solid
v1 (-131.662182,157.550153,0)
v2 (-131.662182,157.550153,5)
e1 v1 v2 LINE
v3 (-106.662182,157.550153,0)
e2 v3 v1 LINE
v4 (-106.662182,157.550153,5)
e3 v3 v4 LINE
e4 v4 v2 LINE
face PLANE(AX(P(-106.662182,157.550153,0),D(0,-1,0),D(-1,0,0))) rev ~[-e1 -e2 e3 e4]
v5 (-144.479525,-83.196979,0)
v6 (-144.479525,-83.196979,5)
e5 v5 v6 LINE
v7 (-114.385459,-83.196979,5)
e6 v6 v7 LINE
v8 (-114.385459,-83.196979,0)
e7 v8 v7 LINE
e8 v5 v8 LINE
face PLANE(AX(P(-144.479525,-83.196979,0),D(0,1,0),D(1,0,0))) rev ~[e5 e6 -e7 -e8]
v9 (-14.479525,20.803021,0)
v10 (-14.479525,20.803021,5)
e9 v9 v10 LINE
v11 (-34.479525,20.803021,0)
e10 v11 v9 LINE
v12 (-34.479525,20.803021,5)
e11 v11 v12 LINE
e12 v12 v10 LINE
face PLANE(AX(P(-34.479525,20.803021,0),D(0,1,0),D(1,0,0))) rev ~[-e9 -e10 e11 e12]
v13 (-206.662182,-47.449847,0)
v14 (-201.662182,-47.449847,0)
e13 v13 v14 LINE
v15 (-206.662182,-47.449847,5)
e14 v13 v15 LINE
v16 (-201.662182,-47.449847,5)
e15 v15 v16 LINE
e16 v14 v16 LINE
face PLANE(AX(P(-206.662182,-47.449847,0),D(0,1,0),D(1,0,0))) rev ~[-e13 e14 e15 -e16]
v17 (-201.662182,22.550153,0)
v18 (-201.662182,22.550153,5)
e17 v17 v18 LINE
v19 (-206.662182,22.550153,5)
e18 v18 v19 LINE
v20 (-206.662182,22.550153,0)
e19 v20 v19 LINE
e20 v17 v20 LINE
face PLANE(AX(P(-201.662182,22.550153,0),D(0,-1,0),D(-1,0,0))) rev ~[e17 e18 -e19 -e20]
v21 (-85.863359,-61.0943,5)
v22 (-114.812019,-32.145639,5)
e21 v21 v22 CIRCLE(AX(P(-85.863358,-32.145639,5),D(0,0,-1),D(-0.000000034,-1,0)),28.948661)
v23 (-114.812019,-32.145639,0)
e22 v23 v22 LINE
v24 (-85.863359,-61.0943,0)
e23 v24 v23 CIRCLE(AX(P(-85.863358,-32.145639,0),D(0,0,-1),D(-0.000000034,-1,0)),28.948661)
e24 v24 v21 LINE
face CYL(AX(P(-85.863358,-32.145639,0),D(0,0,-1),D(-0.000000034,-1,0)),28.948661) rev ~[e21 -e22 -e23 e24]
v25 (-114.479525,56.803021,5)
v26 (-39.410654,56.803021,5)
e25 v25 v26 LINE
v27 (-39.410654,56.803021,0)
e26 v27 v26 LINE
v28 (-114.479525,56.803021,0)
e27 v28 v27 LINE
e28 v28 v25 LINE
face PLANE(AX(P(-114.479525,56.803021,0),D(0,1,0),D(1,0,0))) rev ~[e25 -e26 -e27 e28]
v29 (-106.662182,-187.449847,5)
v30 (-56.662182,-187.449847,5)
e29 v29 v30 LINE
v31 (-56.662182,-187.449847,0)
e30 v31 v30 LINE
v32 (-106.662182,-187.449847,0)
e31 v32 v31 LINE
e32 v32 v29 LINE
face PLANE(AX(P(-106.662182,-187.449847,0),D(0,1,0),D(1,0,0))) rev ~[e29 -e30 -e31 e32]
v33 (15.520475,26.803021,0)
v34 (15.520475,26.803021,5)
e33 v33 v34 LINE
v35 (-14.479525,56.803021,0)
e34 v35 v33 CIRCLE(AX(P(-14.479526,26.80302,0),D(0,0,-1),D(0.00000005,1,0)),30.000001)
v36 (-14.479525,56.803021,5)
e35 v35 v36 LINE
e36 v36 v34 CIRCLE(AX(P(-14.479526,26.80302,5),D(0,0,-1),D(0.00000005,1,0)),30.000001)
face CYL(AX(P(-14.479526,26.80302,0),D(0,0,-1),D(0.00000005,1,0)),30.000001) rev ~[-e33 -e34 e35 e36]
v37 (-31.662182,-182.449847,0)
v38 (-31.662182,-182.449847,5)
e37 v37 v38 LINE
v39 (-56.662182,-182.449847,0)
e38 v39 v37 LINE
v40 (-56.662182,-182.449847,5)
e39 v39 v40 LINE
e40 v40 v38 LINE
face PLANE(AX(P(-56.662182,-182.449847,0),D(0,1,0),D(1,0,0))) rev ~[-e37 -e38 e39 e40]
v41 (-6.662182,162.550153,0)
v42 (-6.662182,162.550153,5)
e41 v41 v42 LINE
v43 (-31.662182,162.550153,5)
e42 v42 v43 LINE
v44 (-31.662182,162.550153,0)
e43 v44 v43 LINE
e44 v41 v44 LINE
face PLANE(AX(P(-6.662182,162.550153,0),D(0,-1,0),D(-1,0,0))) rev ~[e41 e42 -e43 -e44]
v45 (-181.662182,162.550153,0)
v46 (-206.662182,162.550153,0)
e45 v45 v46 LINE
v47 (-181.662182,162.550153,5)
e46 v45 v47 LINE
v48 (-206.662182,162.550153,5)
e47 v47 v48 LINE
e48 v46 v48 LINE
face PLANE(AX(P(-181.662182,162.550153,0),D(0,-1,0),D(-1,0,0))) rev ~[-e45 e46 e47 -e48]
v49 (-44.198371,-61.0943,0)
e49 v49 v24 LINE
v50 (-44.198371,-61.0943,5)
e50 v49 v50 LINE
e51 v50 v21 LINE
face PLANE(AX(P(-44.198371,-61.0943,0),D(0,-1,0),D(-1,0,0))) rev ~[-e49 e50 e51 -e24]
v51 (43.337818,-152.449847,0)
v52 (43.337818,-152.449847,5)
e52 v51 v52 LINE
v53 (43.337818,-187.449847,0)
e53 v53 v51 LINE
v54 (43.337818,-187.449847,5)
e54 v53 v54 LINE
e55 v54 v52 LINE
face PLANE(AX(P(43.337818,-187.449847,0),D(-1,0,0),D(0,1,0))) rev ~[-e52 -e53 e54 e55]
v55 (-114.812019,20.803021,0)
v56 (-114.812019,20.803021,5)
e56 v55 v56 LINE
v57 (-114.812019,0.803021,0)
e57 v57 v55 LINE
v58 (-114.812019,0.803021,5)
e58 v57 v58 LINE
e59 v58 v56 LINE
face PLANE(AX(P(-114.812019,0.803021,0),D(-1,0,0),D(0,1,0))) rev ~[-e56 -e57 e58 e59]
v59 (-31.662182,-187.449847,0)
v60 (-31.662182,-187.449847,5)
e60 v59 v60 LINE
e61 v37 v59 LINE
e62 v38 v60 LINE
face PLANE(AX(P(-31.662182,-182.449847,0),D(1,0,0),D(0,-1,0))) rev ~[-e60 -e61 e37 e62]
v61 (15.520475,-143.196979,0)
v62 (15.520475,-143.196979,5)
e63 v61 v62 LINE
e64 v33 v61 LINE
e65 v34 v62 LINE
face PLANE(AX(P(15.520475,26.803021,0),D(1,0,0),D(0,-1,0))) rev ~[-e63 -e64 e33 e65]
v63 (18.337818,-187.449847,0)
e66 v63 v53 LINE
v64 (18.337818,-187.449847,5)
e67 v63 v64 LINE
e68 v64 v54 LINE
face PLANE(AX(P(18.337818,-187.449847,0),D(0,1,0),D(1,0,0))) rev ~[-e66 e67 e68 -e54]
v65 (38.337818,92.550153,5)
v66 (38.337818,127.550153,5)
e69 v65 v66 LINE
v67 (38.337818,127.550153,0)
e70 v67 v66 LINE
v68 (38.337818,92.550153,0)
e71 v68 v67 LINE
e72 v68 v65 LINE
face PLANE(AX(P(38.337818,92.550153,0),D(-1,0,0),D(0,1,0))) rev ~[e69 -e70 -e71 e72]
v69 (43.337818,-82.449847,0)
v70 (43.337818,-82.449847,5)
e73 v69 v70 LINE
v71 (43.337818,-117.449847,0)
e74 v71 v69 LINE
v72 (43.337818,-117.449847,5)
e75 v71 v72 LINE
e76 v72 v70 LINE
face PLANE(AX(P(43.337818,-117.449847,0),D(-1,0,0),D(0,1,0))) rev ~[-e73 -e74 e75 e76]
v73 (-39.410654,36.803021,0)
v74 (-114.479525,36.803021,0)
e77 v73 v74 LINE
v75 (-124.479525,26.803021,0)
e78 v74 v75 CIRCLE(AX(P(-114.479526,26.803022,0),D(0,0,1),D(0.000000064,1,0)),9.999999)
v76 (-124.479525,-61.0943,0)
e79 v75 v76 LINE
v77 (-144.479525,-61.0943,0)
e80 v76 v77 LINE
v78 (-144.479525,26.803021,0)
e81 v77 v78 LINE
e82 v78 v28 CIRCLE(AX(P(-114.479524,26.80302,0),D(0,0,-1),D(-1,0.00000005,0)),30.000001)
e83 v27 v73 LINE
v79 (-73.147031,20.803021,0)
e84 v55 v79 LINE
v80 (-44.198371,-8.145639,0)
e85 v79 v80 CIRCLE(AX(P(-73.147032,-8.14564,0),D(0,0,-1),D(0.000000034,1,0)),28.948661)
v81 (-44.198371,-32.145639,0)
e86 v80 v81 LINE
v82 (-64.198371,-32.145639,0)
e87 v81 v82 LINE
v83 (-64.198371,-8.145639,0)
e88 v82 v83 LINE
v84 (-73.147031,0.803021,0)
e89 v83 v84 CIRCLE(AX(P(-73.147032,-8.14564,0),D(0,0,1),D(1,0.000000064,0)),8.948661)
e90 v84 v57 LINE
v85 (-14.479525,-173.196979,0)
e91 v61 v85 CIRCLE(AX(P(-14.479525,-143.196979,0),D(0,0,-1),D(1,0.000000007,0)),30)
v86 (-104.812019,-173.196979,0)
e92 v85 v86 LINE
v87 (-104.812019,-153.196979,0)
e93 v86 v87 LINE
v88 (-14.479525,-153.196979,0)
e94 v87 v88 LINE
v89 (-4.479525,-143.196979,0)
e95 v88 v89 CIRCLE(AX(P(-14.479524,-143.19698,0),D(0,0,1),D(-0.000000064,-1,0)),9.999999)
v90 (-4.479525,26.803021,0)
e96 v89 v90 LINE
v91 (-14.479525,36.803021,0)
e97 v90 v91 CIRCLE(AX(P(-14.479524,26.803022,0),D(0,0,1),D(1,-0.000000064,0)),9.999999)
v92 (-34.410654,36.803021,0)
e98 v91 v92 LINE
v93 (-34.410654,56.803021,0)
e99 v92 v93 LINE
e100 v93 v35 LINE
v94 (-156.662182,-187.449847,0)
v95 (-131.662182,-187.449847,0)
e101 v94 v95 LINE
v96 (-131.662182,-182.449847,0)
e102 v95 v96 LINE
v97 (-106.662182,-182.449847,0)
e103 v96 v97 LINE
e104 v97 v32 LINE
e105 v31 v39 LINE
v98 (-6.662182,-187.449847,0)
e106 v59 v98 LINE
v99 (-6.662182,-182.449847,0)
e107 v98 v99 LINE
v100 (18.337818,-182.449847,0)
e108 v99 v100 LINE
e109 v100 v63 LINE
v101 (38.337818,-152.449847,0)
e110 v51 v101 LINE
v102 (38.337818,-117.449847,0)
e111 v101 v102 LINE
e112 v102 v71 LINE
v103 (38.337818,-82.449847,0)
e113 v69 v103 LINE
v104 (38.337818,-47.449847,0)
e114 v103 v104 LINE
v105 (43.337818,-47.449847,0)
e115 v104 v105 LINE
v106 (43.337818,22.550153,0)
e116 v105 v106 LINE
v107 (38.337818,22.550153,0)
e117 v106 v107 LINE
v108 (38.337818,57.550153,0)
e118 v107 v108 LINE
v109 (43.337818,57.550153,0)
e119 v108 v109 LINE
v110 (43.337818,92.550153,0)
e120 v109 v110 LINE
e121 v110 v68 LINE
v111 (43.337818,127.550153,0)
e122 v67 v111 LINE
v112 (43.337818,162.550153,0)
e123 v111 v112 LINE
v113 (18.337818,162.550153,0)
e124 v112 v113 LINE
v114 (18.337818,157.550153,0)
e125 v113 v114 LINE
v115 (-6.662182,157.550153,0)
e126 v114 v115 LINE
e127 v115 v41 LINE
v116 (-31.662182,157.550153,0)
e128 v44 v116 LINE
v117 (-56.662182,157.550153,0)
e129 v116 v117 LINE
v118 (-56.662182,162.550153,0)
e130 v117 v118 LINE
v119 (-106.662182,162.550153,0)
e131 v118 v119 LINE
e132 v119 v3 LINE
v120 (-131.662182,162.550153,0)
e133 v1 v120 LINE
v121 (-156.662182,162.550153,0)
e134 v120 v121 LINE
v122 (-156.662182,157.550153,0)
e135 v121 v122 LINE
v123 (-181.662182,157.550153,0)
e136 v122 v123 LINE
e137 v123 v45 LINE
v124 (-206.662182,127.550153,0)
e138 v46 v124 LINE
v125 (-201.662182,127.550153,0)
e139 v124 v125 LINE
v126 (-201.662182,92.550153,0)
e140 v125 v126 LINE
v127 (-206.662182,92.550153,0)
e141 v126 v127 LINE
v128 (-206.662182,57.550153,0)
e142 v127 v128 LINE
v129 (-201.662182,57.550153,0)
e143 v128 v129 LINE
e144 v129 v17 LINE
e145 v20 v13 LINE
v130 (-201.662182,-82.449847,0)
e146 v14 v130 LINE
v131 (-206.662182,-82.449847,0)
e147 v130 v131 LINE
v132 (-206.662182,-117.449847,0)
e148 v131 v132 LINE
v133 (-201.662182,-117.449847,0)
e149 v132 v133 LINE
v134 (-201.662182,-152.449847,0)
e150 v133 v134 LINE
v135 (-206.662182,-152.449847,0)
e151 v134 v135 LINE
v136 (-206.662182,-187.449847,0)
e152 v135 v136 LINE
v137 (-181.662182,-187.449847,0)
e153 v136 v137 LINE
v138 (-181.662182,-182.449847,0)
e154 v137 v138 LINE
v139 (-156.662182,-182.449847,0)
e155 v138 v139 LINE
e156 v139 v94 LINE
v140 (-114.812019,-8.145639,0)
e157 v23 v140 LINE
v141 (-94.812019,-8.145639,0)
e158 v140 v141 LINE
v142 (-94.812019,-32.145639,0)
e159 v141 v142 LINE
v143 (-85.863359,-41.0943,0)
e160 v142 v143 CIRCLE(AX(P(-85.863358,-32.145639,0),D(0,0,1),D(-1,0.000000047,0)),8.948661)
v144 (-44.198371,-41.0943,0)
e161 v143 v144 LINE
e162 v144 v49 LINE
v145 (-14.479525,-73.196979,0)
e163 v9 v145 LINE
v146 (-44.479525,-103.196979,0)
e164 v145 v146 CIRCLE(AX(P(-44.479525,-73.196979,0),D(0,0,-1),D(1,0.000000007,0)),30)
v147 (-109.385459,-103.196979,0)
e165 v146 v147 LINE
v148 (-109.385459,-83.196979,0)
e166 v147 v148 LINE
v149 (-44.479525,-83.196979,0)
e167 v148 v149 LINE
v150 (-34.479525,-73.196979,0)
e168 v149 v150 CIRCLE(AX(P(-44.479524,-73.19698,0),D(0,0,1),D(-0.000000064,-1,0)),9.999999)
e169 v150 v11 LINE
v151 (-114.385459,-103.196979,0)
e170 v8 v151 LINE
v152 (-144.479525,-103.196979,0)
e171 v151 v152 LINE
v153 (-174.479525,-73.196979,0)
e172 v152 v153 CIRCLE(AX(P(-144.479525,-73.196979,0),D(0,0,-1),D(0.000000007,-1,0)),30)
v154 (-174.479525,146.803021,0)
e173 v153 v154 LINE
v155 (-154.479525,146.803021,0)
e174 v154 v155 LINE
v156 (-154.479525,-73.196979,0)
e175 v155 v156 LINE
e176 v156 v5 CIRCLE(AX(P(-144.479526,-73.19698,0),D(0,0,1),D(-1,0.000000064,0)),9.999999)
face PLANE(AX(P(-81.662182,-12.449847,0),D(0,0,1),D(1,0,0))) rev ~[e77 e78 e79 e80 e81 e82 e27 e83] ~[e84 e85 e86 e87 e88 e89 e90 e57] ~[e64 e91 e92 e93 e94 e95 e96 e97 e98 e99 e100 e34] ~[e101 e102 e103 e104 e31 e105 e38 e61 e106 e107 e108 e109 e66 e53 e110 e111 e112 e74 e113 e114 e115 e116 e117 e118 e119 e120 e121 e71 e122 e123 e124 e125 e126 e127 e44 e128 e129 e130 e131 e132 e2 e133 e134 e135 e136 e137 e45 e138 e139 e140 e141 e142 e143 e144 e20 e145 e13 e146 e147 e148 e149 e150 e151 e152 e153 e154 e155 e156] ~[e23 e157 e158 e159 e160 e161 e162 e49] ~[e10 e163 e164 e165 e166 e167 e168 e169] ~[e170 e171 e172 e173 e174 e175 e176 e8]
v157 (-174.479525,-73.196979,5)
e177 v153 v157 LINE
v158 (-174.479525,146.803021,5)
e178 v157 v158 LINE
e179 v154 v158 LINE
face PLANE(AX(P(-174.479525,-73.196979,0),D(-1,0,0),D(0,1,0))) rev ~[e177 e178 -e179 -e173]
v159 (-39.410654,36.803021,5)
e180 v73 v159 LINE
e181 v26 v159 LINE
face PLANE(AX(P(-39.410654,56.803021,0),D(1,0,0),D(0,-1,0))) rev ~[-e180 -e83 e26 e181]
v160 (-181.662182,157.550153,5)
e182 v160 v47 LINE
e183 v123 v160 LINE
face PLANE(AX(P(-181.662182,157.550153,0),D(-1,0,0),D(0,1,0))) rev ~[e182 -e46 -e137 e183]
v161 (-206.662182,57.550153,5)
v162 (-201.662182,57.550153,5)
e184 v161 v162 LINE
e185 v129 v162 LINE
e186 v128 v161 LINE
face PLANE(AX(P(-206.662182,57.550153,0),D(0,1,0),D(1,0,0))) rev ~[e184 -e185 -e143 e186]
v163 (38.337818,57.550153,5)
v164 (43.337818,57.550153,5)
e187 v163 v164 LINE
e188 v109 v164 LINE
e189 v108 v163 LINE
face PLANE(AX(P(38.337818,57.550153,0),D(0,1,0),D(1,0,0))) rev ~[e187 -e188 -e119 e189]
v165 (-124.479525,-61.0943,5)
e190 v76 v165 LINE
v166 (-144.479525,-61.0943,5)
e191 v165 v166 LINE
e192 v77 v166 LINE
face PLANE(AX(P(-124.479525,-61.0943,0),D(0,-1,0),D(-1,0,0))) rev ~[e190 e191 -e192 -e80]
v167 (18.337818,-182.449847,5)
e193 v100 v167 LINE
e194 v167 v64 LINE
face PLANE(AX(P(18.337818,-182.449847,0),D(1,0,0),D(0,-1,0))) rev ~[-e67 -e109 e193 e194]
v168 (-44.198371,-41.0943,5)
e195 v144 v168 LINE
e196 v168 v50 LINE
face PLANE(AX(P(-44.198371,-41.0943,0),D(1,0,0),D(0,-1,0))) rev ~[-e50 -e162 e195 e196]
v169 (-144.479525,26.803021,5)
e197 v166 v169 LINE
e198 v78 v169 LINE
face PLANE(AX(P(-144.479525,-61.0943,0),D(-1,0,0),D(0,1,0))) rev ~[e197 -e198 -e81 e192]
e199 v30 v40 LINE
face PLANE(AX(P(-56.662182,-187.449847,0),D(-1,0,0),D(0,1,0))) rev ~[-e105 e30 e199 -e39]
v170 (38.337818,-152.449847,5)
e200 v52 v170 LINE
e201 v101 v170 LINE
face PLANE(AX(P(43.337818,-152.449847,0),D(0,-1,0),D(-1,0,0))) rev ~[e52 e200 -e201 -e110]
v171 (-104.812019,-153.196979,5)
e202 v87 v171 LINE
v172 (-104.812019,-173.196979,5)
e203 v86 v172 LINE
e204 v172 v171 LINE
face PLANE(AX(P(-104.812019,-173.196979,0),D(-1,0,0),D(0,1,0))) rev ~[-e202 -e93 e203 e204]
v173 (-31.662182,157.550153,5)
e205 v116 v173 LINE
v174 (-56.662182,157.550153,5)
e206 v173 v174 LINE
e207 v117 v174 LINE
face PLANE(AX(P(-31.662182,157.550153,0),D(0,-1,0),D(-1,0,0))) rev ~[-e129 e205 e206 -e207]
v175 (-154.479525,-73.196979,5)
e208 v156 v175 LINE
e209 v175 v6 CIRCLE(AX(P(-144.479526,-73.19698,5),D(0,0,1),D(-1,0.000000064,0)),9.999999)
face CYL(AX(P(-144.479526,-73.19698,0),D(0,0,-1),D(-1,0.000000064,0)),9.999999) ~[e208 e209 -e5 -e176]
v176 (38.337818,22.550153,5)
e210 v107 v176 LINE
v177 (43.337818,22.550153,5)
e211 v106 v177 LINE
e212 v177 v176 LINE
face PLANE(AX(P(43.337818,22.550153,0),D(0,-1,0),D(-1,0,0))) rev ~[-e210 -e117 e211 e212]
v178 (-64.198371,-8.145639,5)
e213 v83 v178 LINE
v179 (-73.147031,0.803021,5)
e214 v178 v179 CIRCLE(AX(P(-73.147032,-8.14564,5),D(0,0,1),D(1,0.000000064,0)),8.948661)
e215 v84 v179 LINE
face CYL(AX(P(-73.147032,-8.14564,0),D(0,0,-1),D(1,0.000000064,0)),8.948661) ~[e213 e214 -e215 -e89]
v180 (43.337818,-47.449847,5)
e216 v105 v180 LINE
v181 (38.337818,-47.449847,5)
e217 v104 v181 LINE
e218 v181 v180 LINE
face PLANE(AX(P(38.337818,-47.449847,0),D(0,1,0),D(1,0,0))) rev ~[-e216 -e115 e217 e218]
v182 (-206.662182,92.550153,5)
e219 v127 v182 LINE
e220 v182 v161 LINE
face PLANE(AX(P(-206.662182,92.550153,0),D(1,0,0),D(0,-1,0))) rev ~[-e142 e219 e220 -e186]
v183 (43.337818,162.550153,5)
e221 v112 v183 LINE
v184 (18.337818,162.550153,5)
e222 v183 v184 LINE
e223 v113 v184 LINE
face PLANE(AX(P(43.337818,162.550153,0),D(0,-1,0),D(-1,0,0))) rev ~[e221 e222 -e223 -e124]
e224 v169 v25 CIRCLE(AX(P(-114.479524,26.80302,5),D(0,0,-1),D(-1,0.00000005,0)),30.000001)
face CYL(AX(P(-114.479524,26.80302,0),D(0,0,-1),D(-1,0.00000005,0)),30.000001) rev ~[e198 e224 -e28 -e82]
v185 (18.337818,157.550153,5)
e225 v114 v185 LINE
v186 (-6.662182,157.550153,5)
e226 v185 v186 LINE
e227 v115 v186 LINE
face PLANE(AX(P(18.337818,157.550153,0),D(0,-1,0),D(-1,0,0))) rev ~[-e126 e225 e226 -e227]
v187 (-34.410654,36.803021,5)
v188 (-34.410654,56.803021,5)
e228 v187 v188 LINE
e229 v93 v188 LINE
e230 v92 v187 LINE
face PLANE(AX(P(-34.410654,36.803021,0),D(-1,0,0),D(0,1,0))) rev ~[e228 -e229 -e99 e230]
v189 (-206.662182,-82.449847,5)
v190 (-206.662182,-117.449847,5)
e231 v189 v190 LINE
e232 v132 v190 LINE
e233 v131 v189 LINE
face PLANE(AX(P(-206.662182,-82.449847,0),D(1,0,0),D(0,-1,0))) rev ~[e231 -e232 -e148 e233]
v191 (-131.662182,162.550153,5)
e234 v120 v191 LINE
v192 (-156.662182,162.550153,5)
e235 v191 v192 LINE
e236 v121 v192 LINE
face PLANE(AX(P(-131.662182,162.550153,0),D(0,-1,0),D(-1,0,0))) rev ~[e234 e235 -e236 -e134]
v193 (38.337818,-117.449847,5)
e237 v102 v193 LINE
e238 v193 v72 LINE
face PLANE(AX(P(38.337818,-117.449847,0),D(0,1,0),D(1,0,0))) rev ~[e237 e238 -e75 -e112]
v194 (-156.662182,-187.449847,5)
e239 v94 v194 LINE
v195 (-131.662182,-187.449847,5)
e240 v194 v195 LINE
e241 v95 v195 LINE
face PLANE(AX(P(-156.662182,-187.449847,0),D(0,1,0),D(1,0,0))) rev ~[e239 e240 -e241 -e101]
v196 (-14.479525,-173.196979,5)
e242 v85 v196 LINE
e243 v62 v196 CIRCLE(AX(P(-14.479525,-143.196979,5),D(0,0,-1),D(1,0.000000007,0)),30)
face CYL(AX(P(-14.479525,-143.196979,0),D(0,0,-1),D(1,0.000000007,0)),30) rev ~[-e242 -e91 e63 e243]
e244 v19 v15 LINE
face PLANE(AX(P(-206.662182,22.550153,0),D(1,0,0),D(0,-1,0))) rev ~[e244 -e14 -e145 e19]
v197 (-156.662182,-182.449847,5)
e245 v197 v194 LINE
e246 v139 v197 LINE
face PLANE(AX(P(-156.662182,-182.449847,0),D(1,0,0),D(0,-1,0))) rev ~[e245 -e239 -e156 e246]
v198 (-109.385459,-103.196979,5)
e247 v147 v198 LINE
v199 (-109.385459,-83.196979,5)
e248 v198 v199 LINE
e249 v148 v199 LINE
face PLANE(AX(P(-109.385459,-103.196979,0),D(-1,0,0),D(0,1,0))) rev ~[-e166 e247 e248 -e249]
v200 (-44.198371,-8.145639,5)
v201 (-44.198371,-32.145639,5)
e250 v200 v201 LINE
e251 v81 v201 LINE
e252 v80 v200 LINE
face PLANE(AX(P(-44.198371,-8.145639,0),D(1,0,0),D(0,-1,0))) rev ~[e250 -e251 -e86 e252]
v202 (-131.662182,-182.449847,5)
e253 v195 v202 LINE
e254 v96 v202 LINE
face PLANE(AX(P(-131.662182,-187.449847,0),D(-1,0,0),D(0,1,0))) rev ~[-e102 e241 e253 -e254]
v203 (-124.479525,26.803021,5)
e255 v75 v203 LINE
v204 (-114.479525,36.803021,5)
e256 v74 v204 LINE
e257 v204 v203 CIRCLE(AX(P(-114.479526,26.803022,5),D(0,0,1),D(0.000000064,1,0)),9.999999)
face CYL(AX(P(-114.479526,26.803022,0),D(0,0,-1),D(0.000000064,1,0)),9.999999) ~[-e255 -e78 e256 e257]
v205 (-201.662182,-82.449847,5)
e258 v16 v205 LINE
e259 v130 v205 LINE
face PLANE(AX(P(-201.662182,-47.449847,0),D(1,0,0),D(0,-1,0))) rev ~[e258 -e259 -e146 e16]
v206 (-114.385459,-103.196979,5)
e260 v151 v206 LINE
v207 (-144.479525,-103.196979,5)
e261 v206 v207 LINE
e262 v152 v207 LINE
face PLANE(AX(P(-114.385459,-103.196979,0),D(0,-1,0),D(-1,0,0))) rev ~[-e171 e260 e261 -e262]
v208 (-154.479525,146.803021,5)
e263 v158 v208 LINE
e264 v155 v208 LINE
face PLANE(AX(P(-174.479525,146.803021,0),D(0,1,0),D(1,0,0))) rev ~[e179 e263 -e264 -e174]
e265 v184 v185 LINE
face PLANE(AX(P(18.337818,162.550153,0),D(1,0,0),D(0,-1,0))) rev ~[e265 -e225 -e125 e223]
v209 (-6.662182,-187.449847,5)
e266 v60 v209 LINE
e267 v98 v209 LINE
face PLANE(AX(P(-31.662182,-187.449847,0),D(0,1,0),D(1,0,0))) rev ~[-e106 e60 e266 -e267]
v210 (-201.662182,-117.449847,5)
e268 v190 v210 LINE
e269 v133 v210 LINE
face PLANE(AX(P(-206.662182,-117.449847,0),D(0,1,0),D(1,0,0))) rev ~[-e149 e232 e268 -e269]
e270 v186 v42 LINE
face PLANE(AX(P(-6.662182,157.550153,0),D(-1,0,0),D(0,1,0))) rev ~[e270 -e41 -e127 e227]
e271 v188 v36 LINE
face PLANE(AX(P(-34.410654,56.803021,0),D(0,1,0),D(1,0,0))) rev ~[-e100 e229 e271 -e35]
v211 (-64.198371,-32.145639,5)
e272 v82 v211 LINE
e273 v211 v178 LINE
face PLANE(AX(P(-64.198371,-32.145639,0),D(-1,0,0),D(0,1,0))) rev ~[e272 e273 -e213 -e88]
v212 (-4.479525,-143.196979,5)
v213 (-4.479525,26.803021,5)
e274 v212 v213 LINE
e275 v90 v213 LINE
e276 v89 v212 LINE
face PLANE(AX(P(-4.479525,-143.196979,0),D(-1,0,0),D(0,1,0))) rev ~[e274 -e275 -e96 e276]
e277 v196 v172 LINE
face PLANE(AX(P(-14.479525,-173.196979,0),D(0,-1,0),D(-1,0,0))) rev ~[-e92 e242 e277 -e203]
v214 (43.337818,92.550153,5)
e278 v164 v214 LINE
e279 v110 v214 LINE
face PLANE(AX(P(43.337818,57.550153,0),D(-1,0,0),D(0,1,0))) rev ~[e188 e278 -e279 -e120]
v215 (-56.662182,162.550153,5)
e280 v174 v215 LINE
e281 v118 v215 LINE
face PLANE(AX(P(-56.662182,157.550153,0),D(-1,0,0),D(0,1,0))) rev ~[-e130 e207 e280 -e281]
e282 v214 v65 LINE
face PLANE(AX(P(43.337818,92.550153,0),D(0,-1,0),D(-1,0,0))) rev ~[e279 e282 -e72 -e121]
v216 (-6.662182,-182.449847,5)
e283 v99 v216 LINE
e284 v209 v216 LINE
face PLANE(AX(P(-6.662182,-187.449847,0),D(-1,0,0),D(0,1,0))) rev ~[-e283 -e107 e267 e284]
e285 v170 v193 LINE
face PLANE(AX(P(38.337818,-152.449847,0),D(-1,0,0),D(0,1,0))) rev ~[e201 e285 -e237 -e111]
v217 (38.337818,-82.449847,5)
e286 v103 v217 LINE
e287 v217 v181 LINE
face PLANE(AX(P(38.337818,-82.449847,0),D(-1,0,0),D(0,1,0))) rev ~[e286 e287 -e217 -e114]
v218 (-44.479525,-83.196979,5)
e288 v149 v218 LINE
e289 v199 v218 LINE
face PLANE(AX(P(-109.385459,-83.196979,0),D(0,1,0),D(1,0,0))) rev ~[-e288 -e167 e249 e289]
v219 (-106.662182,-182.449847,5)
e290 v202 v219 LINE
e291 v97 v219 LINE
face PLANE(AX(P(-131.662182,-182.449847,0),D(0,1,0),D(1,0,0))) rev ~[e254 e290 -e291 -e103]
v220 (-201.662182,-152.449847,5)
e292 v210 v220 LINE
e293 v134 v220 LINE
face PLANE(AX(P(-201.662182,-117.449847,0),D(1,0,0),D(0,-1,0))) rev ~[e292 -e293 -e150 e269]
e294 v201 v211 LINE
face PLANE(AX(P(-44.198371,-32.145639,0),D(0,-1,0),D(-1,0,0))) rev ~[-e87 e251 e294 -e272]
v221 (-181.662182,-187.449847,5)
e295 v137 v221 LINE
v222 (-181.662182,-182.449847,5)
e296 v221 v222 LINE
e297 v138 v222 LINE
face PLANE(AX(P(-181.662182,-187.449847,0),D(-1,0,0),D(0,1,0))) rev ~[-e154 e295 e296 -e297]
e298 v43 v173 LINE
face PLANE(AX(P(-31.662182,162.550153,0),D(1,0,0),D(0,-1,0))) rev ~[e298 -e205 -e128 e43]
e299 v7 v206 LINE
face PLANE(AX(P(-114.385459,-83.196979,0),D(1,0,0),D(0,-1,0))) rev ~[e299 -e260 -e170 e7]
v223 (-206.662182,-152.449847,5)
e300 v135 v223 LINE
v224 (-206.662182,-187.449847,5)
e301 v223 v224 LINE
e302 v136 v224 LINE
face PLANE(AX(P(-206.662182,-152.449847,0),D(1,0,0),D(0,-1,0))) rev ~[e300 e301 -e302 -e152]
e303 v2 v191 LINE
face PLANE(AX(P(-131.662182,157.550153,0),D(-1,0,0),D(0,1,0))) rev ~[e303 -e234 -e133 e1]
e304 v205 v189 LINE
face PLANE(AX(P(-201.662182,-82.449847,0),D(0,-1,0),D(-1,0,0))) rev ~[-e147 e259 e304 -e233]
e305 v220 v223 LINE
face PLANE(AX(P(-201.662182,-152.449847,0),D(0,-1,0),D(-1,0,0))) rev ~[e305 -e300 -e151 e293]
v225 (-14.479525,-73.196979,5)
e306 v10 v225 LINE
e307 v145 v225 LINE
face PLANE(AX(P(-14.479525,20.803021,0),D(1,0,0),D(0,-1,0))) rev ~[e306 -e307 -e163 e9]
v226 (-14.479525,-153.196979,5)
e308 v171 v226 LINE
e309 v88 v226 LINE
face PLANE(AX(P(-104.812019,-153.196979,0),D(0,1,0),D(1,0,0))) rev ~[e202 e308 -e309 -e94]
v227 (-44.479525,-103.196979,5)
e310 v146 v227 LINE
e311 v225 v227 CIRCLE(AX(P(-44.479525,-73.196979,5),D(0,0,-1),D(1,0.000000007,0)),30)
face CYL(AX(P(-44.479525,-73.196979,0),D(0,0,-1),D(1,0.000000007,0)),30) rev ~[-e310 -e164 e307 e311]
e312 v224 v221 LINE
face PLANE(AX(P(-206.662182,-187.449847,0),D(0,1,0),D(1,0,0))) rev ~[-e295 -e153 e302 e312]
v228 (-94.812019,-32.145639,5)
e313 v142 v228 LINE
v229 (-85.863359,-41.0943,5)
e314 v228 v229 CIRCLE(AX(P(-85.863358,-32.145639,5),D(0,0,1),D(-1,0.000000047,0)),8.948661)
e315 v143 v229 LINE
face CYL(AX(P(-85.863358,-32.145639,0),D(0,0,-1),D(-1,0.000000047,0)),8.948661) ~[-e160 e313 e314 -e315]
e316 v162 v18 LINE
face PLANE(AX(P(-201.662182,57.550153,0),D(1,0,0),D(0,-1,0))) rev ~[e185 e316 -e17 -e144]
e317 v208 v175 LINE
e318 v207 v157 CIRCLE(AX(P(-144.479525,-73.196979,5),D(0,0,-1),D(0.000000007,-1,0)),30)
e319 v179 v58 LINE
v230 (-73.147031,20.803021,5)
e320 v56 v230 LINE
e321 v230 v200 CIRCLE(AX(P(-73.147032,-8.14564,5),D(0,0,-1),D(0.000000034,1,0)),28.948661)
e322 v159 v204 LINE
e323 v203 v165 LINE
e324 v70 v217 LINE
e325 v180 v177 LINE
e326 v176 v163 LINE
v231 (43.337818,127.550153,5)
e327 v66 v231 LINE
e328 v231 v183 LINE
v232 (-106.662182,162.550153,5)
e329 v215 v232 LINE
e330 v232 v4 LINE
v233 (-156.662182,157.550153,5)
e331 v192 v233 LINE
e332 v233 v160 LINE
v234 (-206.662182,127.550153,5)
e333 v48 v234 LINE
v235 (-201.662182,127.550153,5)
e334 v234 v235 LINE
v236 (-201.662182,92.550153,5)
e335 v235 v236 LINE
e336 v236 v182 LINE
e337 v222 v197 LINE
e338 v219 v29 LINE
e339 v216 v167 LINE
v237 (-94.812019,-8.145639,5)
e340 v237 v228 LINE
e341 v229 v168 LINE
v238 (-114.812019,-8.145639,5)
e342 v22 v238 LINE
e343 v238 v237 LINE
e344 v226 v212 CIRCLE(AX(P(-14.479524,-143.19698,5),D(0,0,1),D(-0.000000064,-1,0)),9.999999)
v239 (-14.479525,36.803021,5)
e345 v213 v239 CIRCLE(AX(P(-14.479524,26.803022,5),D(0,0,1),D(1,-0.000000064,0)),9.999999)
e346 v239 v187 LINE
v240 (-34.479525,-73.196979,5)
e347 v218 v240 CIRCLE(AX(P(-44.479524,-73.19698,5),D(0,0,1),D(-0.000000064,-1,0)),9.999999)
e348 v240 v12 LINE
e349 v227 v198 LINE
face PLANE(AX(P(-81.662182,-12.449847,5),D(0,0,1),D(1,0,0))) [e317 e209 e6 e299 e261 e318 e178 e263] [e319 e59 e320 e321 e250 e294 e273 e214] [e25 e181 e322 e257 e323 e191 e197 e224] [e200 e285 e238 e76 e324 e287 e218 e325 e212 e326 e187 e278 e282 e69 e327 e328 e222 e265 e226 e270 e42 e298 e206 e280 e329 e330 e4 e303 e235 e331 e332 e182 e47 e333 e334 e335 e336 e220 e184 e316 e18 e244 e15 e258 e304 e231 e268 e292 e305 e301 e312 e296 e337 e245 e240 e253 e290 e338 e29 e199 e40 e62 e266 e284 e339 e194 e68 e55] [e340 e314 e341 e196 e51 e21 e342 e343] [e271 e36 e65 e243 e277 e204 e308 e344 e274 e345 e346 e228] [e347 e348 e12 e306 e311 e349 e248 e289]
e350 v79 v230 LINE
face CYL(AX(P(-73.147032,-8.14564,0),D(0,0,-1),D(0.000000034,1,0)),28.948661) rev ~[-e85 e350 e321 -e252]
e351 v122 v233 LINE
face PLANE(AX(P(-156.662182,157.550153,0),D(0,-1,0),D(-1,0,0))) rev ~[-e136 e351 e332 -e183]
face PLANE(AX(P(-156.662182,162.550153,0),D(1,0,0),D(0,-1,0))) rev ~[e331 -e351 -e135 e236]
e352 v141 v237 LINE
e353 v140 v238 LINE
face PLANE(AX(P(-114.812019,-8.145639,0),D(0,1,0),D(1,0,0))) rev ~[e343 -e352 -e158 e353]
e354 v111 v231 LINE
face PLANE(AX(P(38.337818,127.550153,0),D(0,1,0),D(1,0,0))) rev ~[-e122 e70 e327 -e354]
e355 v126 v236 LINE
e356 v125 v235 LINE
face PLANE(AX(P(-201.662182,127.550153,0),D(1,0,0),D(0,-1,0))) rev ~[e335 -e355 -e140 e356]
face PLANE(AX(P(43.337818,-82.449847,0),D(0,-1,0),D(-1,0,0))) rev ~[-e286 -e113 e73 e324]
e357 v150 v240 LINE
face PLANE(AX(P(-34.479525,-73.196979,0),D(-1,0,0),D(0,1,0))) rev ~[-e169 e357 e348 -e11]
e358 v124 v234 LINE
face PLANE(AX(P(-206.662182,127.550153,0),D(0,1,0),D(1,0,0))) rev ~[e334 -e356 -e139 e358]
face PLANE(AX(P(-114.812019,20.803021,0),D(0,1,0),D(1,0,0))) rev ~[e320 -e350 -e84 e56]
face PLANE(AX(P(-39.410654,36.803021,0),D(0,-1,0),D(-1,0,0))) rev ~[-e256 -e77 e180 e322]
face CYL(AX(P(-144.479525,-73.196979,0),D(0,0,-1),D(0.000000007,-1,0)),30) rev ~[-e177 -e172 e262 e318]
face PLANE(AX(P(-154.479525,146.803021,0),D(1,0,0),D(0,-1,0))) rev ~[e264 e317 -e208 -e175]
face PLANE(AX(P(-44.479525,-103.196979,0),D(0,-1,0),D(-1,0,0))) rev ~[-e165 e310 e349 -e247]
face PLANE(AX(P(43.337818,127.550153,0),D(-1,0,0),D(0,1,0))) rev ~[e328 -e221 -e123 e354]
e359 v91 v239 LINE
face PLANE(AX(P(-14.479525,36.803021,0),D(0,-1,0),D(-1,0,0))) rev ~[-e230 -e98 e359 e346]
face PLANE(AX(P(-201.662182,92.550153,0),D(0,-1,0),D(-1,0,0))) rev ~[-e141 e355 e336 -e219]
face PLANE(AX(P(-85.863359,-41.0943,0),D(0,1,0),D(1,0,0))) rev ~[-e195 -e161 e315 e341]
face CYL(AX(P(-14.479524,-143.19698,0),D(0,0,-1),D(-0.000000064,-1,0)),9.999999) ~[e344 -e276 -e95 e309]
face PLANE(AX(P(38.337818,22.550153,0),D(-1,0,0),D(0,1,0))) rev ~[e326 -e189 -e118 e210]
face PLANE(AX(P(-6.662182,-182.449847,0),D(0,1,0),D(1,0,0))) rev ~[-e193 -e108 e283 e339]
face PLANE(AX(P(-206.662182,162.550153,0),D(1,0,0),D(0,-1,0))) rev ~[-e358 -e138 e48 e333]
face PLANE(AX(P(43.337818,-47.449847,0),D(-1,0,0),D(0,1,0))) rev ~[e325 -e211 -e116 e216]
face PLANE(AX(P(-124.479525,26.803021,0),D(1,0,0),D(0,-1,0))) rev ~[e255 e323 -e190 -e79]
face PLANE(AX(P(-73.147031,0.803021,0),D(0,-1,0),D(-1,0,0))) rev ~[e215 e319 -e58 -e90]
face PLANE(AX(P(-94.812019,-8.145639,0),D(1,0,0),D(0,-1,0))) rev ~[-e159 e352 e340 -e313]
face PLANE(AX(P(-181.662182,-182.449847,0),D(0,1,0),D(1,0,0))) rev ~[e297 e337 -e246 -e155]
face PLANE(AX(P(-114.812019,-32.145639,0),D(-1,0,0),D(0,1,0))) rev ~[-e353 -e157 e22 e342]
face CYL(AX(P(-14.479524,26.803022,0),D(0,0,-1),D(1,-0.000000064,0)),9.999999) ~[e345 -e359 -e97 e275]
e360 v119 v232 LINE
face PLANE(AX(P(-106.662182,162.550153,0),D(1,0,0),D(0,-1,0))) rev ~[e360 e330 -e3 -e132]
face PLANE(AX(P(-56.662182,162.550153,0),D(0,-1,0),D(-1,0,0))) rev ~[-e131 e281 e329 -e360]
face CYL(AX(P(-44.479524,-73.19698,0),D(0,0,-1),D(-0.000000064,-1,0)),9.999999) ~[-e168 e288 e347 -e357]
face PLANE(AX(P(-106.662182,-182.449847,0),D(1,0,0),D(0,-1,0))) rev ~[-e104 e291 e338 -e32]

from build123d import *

# Parameters (mm, degrees)
F1_DEPTH = 5


with BuildPart() as f1:
    # F0 (on Top) → F1 (new body)
    with BuildSketch(Plane.XY):
        Polygon((38.337818, -187.449847), (43.337818, -187.449847), (43.337818, -182.449847), (43.337818, -152.449847), (38.337818, -152.449847), (38.337818, -117.449847), (43.337818, -117.449847), (43.337818, -82.449847), (38.337818, -82.449847), (38.337818, -47.449847), (43.337818, -47.449847), (43.337818, 22.550153), (38.337818, 22.550153), (38.337818, 57.550153), (43.337818, 57.550153), (43.337818, 92.550153), (38.337818, 92.550153), (38.337818, 127.550153), (43.337818, 127.550153), (43.337818, 157.550153), (43.337818, 162.550153), (18.337818, 162.550153), (18.337818, 157.550153), (-6.662182, 157.550153), (-6.662182, 162.550153), (-31.662182, 162.550153), (-31.662182, 157.550153), (-56.662182, 157.550153), (-56.662182, 162.550153), (-81.662182, 162.550153), (-106.662182, 162.550153), (-106.662182, 157.550153), (-131.662182, 157.550153), (-131.662182, 162.550153), (-156.662182, 162.550153), (-156.662182, 157.550153), (-181.662182, 157.550153), (-181.662182, 162.550153), (-206.662182, 162.550153), (-206.662182, 127.550153), (-201.662182, 127.550153), (-201.662182, 92.550153), (-206.662182, 92.550153), (-206.662182, 57.550153), (-201.662182, 57.550153), (-201.662182, 22.550153), (-206.662182, 22.550153), (-206.662182, -12.449847), (-206.662182, -47.449847), (-201.662182, -47.449847), (-201.662182, -82.449847), (-206.662182, -82.449847), (-206.662182, -117.449847), (-201.662182, -117.449847), (-201.662182, -152.449847), (-206.662182, -152.449847), (-206.662182, -187.449847), (-201.662182, -187.449847), (-181.662182, -187.449847), (-181.662182, -182.449847), (-156.662182, -182.449847), (-156.662182, -187.449847), (-131.662182, -187.449847), (-131.662182, -182.449847), (-106.662182, -182.449847), (-106.662182, -187.449847), (-81.662182, -187.449847), (-56.662182, -187.449847), (-56.662182, -182.449847), (-31.662182, -182.449847), (-31.662182, -187.449847), (-6.662182, -187.449847), (-6.662182, -182.449847), (18.337818, -182.449847), (18.337818, -187.449847), align=None)
        with BuildLine():
            Line((-4.479525, -143.196979), (-4.479525, 26.803021))
            ThreePointArc((-4.479525, 26.803021), (-7.408457, 33.874089), (-14.479525, 36.803021))
            Line((-14.479525, 36.803021), (-34.410654, 36.803021))
            Line((-34.410654, 36.803021), (-34.410654, 56.803021))
            Line((-34.410654, 56.803021), (-14.479525, 56.803021))
            ThreePointArc((-14.479525, 56.803021), (6.733678, 48.016224), (15.520475, 26.803021))
            Line((15.520475, 26.803021), (15.520475, -143.196979))
            ThreePointArc((15.520475, -143.196979), (6.733678, -164.410183), (-14.479525, -173.196979))
            Line((-14.479525, -173.196979), (-104.812019, -173.196979))
            Line((-104.812019, -173.196979), (-104.812019, -153.196979))
            Line((-104.812019, -153.196979), (-14.479525, -153.196979))
            ThreePointArc((-14.479525, -153.196979), (-7.408457, -150.268047), (-4.479525, -143.196979))
        make_face(mode=Mode.SUBTRACT)
        with BuildLine():
            Line((-94.812019, -8.145639), (-94.812019, -32.145639))
            ThreePointArc((-94.812019, -32.145639), (-92.191017, -38.473298), (-85.863359, -41.0943))
            Line((-85.863359, -41.0943), (-44.198371, -41.0943))
            Line((-44.198371, -41.0943), (-44.198371, -61.0943))
            Line((-44.198371, -61.0943), (-85.863359, -61.0943))
            ThreePointArc((-85.863359, -61.0943), (-106.333153, -52.615433), (-114.812019, -32.145639))
            Line((-114.812019, -32.145639), (-114.812019, -8.145639))
            Line((-114.812019, -8.145639), (-94.812019, -8.145639))
        make_face(mode=Mode.SUBTRACT)
        with BuildLine():
            Line((-109.385459, -83.196979), (-44.479525, -83.196979))
            ThreePointArc((-44.479525, -83.196979), (-37.408457, -80.268047), (-34.479525, -73.196979))
            Line((-34.479525, -73.196979), (-34.479525, 20.803021))
            Line((-34.479525, 20.803021), (-14.479525, 20.803021))
            Line((-14.479525, 20.803021), (-14.479525, -73.196979))
            ThreePointArc((-14.479525, -73.196979), (-23.266322, -94.410183), (-44.479525, -103.196979))
            Line((-44.479525, -103.196979), (-109.385459, -103.196979))
            Line((-109.385459, -103.196979), (-109.385459, -83.196979))
        make_face(mode=Mode.SUBTRACT)
        with BuildLine():
            Line((-154.479525, 146.803021), (-154.479525, -73.196979))
            ThreePointArc((-154.479525, -73.196979), (-151.550593, -80.268047), (-144.479525, -83.196979))
            Line((-144.479525, -83.196979), (-114.385459, -83.196979))
            Line((-114.385459, -83.196979), (-114.385459, -103.196979))
            Line((-114.385459, -103.196979), (-144.479525, -103.196979))
            ThreePointArc((-144.479525, -103.196979), (-165.692728, -94.410183), (-174.479525, -73.196979))
            Line((-174.479525, -73.196979), (-174.479525, 146.803021))
            Line((-174.479525, 146.803021), (-154.479525, 146.803021))
        make_face(mode=Mode.SUBTRACT)
        with BuildLine():
            Line((-39.410654, 36.803021), (-114.479525, 36.803021))
            ThreePointArc((-114.479525, 36.803021), (-121.550593, 33.874089), (-124.479525, 26.803021))
            Line((-124.479525, 26.803021), (-124.479525, -61.0943))
            Line((-124.479525, -61.0943), (-144.479525, -61.0943))
            Line((-144.479525, -61.0943), (-144.479525, 26.803021))
            ThreePointArc((-144.479525, 26.803021), (-135.692728, 48.016224), (-114.479525, 56.803021))
            Line((-114.479525, 56.803021), (-39.410654, 56.803021))
            Line((-39.410654, 56.803021), (-39.410654, 36.803021))
        make_face(mode=Mode.SUBTRACT)
        with BuildLine():
            Line((-44.198371, -32.145639), (-64.198371, -32.145639))
            Line((-64.198371, -32.145639), (-64.198371, -8.145639))
            ThreePointArc((-64.198371, -8.145639), (-66.819373, -1.817981), (-73.147031, 0.803021))
            Line((-73.147031, 0.803021), (-114.812019, 0.803021))
            Line((-114.812019, 0.803021), (-114.812019, 20.803021))
            Line((-114.812019, 20.803021), (-73.147031, 20.803021))
            ThreePointArc((-73.147031, 20.803021), (-52.677237, 12.324154), (-44.198371, -8.145639))
            Line((-44.198371, -8.145639), (-44.198371, -32.145639))
        make_face(mode=Mode.SUBTRACT)
    extrude(amount=F1_DEPTH)


solid = f1.part
